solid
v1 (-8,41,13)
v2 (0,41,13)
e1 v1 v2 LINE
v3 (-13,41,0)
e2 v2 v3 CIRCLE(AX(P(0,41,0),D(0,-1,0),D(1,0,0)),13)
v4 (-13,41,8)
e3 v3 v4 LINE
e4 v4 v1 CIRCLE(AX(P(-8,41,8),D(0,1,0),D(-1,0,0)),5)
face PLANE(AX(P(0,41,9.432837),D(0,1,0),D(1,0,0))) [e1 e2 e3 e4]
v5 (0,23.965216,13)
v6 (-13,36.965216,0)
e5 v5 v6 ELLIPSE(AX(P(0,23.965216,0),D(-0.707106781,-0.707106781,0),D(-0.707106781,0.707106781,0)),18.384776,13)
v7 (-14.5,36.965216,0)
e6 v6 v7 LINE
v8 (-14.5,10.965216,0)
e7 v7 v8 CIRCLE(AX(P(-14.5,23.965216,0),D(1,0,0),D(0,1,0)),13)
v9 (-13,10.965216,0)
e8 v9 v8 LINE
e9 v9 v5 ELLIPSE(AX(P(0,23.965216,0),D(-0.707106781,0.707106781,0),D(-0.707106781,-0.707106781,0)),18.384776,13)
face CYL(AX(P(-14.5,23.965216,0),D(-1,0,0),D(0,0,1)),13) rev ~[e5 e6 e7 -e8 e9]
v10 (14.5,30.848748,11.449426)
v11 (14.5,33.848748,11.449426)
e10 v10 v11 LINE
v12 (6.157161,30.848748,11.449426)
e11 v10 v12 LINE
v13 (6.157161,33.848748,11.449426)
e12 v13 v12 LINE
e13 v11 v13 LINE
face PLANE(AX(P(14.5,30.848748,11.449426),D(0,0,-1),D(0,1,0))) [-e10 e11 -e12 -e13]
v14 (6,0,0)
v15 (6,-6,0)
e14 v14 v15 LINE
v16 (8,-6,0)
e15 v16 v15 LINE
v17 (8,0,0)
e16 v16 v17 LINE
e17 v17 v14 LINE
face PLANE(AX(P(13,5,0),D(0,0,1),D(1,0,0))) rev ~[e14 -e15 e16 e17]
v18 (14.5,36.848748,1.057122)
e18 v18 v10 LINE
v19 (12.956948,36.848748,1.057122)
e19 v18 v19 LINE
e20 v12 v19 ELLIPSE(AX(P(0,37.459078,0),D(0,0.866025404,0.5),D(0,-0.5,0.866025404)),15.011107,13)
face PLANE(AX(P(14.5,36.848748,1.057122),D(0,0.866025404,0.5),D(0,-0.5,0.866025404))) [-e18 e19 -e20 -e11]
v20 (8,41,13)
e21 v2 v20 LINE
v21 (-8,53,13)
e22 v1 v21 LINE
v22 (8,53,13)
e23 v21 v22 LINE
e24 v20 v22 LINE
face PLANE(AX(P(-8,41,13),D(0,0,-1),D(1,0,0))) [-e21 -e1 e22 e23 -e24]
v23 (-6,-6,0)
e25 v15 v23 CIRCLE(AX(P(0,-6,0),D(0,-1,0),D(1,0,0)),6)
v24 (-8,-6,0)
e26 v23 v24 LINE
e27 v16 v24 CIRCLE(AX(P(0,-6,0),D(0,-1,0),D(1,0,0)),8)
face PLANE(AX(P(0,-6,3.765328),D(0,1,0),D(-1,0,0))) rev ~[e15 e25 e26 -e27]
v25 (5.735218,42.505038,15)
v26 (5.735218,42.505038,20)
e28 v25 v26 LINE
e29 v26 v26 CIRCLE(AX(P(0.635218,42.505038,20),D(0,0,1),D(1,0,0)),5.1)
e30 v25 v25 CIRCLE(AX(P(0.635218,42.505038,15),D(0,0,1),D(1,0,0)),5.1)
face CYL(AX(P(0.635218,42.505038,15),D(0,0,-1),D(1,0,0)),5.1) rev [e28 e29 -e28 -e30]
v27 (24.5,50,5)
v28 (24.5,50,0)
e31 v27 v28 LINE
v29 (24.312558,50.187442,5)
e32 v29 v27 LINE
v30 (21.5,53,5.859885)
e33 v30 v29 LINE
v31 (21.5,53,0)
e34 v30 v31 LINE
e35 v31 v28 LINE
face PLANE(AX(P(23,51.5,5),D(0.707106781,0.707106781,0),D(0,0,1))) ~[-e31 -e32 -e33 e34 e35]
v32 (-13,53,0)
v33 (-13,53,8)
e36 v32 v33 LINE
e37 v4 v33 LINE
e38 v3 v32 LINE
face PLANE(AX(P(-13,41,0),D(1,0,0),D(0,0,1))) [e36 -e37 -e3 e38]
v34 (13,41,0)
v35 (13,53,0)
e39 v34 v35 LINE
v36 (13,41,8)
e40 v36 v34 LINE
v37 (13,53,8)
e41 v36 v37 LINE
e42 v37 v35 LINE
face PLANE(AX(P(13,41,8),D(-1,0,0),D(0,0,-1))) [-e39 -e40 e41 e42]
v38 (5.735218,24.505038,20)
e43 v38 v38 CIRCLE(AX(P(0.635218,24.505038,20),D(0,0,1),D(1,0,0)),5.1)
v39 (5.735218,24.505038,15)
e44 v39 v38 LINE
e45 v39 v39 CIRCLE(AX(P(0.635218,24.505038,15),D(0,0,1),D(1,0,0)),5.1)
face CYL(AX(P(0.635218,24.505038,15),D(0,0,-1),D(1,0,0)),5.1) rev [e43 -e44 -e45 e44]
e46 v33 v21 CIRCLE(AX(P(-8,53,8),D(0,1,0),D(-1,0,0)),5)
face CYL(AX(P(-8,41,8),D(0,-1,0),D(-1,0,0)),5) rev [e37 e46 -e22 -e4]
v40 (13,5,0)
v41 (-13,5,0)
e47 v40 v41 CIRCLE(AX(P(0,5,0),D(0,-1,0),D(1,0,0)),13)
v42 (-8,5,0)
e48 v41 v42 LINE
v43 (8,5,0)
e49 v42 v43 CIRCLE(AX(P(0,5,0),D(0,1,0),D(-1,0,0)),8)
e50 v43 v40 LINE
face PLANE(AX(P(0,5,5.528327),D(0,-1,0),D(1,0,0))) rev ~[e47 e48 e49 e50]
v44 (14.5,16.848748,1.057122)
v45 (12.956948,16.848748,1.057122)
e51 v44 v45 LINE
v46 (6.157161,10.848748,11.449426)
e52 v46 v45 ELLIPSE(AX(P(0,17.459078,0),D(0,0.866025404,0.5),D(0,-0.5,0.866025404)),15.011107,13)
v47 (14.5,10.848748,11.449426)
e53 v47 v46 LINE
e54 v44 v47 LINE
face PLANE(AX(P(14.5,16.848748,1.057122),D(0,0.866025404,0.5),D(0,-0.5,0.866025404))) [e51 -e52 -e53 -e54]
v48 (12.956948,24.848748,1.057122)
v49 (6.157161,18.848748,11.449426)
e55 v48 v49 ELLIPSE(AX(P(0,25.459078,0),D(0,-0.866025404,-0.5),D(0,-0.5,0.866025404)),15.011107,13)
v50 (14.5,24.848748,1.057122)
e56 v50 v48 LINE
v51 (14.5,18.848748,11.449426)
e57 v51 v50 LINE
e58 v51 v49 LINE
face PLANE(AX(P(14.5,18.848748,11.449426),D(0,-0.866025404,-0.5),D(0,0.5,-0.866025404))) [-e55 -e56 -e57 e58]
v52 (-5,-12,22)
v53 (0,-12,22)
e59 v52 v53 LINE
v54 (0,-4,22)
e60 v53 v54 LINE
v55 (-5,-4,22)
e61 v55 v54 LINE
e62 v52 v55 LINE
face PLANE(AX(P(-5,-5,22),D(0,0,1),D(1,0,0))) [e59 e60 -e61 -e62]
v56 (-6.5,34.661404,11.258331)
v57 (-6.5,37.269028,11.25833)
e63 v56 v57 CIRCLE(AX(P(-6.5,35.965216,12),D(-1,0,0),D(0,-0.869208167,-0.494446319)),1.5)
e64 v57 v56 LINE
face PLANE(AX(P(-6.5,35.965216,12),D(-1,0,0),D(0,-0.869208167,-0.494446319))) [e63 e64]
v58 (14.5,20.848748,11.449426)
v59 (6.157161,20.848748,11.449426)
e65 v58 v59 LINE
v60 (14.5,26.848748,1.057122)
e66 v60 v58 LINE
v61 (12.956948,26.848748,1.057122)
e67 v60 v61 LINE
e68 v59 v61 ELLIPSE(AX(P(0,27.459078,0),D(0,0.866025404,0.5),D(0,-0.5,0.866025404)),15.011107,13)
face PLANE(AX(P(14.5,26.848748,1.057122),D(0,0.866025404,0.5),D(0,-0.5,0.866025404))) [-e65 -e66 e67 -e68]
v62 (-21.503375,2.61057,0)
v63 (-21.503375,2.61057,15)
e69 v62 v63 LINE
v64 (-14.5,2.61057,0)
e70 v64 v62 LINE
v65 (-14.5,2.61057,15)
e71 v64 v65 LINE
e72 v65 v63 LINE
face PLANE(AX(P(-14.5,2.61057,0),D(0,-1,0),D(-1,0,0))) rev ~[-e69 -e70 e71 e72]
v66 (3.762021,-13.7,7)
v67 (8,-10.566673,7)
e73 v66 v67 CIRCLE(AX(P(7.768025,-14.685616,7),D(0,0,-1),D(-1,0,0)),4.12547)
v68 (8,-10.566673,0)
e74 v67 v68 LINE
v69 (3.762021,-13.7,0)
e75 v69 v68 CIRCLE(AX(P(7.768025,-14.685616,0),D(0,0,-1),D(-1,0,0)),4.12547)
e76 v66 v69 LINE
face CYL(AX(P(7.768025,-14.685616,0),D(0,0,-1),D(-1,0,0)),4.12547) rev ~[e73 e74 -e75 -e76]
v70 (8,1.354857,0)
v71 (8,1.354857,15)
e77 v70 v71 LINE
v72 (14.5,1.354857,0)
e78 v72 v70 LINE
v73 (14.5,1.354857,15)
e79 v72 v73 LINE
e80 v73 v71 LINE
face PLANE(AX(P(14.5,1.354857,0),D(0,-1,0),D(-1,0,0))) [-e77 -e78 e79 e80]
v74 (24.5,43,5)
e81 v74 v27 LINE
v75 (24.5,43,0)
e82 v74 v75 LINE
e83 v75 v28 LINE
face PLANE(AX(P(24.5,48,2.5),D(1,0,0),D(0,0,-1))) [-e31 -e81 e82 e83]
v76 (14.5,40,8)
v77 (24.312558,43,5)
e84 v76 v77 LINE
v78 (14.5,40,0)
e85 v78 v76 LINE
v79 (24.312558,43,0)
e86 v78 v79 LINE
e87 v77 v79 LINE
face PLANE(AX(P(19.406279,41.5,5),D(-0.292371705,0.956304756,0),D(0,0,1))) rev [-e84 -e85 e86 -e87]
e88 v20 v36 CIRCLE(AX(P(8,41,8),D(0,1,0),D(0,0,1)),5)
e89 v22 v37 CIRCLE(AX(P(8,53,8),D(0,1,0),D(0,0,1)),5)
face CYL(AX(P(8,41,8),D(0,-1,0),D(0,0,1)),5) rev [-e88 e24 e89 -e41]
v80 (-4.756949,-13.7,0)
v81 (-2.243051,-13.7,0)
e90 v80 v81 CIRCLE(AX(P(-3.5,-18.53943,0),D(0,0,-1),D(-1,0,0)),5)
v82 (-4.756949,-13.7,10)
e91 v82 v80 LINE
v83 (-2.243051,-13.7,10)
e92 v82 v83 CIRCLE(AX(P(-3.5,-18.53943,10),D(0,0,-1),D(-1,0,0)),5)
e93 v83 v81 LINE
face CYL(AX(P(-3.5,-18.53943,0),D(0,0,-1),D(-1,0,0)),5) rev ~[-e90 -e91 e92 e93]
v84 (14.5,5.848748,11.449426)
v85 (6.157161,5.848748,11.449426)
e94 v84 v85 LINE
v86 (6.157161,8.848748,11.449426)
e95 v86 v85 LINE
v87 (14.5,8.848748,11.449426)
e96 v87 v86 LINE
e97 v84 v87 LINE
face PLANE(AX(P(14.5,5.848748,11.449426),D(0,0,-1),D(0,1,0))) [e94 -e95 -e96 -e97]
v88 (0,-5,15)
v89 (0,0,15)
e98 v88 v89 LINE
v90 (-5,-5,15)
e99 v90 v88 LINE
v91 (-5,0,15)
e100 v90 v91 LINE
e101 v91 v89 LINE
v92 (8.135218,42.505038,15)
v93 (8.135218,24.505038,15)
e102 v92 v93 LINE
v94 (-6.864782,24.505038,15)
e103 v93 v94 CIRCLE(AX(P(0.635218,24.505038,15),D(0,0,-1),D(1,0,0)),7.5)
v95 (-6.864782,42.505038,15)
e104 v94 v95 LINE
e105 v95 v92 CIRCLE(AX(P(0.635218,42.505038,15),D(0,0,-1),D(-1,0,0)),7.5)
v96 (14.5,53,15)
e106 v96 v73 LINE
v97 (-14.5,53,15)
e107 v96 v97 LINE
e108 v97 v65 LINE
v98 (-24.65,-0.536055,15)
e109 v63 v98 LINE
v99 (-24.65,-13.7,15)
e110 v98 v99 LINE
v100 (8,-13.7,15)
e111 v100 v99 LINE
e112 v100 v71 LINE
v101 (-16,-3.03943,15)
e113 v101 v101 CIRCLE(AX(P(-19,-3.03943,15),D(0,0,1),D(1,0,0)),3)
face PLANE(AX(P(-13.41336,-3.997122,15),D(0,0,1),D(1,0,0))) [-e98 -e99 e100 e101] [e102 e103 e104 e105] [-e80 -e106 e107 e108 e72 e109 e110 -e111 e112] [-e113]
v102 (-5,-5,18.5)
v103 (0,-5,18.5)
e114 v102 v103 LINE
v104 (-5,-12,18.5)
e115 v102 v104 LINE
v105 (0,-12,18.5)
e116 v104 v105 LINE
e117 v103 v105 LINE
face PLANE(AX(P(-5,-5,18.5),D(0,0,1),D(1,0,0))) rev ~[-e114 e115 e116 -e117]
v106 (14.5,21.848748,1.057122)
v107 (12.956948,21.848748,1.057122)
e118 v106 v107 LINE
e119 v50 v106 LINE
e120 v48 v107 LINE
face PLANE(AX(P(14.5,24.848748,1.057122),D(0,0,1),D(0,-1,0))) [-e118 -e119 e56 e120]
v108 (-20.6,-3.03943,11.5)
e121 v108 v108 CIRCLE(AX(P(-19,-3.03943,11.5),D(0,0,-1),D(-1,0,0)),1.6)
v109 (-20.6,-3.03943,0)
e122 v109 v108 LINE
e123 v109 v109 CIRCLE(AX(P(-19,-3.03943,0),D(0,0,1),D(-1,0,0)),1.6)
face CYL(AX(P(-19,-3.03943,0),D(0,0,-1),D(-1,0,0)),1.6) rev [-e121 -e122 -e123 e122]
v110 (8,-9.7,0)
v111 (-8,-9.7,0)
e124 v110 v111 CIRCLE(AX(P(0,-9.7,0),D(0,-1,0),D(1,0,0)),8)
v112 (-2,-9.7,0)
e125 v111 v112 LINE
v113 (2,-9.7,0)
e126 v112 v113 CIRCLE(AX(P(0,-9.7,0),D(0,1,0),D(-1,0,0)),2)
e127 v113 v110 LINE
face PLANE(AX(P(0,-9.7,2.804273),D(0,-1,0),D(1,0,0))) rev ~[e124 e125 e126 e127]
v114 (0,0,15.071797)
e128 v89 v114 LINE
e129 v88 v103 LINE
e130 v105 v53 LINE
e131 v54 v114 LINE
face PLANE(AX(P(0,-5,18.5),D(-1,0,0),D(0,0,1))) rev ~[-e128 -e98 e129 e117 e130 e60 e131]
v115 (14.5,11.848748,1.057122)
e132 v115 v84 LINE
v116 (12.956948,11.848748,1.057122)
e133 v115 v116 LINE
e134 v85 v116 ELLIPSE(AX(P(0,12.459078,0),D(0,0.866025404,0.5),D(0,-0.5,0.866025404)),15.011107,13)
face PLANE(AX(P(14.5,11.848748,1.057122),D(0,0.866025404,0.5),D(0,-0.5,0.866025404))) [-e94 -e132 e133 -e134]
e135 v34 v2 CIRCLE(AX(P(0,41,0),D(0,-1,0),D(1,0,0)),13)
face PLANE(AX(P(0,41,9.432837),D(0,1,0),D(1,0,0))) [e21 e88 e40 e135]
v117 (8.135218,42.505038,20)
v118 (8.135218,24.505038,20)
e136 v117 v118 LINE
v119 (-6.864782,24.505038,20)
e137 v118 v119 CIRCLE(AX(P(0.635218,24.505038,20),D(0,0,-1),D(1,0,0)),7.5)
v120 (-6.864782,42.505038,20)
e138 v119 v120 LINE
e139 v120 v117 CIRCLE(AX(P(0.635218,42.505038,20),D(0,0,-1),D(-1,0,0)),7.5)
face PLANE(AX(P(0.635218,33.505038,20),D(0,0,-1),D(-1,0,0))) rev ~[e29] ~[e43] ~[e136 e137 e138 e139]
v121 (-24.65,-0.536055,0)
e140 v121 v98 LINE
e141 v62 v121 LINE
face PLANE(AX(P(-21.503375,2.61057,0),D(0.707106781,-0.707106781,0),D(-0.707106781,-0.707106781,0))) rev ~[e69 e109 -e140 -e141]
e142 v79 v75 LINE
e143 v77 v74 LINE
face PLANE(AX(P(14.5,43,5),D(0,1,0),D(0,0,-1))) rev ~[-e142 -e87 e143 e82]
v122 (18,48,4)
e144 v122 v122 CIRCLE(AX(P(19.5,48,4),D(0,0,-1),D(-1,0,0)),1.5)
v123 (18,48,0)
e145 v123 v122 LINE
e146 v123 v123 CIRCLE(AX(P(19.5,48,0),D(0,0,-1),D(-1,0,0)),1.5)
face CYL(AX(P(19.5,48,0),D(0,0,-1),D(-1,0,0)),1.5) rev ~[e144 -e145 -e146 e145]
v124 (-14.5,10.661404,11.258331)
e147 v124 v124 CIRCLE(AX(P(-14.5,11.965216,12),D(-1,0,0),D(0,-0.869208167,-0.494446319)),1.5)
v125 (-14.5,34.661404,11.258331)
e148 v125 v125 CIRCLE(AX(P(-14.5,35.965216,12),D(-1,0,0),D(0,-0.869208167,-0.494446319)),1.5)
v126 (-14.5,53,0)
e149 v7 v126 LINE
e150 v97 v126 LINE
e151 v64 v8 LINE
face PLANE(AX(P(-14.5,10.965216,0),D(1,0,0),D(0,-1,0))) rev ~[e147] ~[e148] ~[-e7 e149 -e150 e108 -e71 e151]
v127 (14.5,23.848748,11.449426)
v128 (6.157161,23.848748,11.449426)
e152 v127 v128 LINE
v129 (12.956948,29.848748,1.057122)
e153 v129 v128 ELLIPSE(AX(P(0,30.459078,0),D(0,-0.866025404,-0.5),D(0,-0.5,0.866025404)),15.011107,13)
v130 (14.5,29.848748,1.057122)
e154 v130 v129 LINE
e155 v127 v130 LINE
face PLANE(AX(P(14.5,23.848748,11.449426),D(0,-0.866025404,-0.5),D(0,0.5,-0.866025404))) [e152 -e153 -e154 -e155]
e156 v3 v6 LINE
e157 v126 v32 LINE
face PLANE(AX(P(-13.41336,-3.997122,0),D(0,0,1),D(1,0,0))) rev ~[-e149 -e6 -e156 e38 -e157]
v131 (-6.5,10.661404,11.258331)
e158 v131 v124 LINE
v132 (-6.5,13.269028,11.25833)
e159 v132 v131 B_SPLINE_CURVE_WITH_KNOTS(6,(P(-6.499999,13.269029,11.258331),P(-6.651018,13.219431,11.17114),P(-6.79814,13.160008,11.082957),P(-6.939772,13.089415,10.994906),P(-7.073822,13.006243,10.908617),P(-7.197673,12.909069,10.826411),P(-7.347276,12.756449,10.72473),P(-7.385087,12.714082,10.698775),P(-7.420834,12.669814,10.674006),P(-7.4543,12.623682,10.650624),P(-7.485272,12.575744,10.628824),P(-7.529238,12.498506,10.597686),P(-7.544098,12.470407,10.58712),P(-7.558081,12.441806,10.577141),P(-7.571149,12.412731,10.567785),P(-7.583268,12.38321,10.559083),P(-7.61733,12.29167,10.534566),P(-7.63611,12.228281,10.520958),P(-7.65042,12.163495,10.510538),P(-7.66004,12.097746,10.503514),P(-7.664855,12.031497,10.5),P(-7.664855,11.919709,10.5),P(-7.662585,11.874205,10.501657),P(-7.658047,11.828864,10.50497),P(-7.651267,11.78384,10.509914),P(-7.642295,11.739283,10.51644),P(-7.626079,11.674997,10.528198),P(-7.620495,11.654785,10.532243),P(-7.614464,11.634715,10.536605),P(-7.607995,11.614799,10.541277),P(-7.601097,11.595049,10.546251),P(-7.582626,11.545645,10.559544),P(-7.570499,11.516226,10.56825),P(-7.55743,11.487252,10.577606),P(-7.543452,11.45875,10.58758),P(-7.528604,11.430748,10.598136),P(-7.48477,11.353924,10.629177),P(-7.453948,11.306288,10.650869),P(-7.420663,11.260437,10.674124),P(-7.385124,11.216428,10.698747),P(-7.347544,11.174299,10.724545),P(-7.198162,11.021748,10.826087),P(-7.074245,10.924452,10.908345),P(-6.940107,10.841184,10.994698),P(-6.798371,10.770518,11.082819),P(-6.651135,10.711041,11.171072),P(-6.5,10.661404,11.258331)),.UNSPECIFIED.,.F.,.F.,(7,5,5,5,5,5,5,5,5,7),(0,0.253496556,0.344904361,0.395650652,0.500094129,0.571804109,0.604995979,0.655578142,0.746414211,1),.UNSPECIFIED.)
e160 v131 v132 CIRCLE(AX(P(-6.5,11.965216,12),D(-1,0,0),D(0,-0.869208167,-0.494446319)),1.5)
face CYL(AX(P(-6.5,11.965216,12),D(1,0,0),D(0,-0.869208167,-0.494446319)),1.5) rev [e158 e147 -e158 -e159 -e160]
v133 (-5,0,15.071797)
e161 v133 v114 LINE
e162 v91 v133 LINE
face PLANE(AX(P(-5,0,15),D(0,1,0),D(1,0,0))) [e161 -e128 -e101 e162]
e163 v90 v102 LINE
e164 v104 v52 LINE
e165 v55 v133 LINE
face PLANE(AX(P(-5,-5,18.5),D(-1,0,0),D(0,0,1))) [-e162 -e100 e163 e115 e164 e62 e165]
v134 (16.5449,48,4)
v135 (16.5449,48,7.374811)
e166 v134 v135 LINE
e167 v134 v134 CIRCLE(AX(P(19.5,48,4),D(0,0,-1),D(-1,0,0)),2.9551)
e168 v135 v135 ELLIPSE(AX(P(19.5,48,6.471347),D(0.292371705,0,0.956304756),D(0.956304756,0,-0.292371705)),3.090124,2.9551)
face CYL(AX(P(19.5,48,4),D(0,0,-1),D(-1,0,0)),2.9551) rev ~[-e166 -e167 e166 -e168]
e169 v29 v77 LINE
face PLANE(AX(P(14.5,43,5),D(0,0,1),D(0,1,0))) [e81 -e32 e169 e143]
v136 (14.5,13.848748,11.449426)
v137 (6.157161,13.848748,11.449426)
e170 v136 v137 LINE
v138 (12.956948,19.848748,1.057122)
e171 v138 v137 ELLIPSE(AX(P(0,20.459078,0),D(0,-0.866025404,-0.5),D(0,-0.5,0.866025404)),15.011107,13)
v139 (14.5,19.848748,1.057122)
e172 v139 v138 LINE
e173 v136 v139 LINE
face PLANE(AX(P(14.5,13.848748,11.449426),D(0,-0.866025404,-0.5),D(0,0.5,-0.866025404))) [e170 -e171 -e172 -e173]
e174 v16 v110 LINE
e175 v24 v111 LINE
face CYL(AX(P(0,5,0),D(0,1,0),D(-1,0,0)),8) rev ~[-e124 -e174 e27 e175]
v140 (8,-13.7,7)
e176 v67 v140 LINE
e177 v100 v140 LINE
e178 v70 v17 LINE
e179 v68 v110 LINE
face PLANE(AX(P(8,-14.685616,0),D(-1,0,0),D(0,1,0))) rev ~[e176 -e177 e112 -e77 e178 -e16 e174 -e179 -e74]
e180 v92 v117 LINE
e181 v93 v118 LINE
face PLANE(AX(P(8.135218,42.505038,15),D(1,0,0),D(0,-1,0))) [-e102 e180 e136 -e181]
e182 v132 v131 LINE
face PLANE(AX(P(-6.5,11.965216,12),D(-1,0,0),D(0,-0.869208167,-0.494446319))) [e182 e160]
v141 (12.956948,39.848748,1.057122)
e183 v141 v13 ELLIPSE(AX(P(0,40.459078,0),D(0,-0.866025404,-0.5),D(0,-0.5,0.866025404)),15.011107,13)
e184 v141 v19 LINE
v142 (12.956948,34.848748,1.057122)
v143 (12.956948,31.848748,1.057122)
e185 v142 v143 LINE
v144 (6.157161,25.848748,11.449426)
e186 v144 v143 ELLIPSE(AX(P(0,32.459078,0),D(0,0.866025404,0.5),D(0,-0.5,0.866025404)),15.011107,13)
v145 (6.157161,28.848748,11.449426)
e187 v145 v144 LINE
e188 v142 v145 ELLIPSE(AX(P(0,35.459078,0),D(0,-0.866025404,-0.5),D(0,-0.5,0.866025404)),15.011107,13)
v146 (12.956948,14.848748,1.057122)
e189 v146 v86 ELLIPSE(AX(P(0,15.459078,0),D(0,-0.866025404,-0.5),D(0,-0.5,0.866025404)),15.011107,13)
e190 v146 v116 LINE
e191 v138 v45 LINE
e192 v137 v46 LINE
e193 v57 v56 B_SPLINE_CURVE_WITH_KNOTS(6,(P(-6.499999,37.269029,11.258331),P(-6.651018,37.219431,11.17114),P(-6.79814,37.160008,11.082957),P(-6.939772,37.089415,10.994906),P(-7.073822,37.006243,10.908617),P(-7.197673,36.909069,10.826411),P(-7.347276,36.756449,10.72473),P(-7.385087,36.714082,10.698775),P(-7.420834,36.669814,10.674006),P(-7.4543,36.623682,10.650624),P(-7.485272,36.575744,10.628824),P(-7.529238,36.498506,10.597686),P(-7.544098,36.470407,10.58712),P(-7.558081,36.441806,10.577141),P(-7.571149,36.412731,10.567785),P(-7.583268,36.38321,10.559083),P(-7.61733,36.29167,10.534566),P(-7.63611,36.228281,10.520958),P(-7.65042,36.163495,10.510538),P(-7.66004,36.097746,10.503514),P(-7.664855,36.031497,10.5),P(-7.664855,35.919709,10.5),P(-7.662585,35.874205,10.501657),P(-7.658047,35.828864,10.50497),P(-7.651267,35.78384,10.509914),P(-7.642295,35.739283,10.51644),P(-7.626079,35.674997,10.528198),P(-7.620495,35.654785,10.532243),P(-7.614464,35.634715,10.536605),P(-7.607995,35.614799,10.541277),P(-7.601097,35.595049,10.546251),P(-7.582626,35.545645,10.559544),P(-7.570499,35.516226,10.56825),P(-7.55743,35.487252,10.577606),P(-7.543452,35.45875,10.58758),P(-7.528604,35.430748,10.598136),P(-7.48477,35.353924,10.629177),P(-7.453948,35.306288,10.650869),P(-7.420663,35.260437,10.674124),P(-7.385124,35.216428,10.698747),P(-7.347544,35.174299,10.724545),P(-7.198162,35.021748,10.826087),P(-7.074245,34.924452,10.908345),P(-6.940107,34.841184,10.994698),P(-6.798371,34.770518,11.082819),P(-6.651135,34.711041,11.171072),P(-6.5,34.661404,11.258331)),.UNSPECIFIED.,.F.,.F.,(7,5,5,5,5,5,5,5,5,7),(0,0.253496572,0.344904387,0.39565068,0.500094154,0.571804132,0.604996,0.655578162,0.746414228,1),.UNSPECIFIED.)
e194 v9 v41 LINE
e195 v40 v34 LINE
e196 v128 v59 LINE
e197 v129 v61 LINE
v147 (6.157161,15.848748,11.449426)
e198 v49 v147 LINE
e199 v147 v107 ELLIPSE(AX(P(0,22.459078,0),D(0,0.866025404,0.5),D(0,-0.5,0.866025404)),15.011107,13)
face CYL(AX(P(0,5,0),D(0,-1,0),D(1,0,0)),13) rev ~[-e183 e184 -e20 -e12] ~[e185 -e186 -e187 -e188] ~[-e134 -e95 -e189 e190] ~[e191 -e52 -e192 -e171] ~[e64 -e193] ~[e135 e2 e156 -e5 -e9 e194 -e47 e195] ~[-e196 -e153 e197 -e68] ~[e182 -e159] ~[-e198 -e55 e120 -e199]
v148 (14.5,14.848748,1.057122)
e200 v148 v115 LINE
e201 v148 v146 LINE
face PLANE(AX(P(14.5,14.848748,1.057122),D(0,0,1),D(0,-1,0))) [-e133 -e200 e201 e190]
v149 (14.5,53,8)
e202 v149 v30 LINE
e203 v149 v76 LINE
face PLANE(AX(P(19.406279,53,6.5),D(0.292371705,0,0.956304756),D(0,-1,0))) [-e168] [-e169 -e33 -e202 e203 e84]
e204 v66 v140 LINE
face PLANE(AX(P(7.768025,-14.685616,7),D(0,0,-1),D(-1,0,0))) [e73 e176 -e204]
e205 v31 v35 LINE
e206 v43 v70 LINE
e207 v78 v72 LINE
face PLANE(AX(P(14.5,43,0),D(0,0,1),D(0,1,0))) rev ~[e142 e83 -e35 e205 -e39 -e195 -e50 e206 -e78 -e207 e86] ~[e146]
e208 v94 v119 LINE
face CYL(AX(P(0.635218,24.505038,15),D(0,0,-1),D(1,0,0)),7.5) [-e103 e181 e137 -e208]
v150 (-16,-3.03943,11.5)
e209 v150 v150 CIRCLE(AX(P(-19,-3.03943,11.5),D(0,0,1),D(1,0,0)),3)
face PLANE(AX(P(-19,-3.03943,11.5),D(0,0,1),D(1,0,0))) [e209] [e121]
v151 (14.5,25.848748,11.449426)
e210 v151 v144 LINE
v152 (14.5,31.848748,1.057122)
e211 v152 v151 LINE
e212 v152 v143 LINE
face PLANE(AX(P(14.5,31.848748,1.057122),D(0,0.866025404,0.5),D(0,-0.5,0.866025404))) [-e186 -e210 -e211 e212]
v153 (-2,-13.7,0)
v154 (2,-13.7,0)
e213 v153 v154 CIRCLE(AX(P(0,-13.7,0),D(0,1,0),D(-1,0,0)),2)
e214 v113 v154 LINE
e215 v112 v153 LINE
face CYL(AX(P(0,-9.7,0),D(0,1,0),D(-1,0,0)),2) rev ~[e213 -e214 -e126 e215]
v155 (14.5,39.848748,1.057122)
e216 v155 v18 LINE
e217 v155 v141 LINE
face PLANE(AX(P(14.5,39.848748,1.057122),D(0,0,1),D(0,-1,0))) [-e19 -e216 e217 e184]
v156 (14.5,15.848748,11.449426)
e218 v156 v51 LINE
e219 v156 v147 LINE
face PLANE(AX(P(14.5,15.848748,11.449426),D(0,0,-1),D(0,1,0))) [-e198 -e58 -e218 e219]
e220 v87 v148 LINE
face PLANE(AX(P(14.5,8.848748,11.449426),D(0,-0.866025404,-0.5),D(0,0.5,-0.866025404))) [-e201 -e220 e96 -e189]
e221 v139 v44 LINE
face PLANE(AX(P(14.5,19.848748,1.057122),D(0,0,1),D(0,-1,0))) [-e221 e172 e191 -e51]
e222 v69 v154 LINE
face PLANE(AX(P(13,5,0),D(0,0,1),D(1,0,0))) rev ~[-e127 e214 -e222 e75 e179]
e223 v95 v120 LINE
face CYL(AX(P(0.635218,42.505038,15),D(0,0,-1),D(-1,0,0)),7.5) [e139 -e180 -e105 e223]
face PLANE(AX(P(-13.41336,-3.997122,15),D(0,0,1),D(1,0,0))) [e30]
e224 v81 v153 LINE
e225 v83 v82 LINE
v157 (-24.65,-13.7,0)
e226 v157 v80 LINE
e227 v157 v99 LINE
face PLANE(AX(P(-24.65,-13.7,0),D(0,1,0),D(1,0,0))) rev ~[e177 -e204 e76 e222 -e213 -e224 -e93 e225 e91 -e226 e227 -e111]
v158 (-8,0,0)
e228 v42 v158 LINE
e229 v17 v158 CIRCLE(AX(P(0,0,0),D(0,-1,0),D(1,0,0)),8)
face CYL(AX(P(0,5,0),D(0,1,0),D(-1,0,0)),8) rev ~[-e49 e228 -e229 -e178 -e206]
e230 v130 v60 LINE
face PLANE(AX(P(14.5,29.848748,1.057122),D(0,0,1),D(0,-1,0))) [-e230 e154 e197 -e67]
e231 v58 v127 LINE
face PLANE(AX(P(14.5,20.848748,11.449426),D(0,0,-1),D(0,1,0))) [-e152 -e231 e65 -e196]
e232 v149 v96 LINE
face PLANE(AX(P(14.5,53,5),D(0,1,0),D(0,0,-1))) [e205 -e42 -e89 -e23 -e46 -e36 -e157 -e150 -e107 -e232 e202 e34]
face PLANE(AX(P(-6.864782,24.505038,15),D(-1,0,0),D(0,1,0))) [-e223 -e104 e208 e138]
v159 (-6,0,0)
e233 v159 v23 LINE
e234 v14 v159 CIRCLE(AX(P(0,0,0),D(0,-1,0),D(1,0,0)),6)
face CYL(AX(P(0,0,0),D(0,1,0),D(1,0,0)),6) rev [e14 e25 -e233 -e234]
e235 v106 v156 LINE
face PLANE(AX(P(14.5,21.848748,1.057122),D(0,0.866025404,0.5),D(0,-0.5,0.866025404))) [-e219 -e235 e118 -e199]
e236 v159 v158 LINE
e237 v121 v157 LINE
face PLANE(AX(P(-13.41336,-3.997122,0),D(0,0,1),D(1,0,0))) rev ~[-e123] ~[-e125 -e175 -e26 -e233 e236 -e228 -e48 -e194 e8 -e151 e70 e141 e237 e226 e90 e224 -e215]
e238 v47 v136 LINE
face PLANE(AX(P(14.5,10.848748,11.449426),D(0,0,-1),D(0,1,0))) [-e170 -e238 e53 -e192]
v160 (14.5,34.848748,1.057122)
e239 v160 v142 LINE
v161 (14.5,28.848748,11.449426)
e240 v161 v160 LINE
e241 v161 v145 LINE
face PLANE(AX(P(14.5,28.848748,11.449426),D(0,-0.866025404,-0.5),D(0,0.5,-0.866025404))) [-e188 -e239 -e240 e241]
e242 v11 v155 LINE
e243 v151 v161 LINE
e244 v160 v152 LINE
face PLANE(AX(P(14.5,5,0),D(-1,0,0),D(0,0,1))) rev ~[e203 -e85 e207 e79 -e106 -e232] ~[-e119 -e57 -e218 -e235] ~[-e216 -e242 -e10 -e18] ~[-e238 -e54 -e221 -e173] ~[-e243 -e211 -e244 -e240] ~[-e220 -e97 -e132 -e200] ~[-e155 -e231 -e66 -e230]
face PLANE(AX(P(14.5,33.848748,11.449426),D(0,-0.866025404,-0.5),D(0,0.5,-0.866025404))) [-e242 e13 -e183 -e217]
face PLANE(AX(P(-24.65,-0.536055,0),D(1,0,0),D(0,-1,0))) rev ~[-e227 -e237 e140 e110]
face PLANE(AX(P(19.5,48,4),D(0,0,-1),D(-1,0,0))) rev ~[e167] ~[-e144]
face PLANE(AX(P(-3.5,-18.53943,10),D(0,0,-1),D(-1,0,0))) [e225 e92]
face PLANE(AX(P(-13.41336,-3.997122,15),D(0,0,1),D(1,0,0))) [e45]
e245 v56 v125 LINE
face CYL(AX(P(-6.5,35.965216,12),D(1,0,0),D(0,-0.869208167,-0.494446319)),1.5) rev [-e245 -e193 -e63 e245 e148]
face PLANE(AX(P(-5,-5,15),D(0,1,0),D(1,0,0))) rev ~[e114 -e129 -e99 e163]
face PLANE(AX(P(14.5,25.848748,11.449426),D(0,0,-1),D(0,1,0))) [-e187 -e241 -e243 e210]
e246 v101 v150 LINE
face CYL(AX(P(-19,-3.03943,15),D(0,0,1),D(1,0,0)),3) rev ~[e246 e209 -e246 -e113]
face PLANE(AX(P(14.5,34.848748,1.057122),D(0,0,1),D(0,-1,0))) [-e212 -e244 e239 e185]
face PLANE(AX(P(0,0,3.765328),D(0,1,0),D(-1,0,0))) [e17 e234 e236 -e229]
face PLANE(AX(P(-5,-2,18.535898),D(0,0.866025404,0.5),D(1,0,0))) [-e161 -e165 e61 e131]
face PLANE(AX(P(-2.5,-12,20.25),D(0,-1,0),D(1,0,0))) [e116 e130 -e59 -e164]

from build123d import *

# Parameters (mm, degrees)
P_IDAT_VYSUNUT_M1_DEPTH       = 6
P_IDAT_VYSUNUT_M2_DEPTH       = 4
P_IDAT_START                  = -18.7
P_IDAT_VYSUNUT_M3_DEPTH       = 18.7
P_IDAT_VYSUNUT_M4_DEPTH       = 36
P_IDAT_VYSUNUT_M5_DEPTH       = 12
P_IDAT_VYSUNUT_M6_DEPTH       = 18.7
SKICA10_W                     = 6.5
SKICA10_H                     = 16.04047294
ODEBRAT_VYSUNUT_M2_DEPTH      = 15
SKICA4_R                      = 4.125470306
ODEBRAT_VYSUNUT_M3_DEPTH      = 7
SKICA11_R                     = 1.6
P_IDAT_VYSUNUT_M7_DEPTH       = 15
SKICA12_R                     = 5
ODEBRAT_VYSUNUT_M4_DEPTH      = 10
SKICA13_R                     = 3
ODEBRAT_VYSUNUT_M5_DEPTH      = 3.5
ODEBRAT_VYSUNUT_M6_REACH      = 69.578
ODEBRAT_VYSUNUT_M6_END_RADIUS = 13
ODEBRAT_START                 = -8
SKICA15_R                     = 1.5
ODEBRAT_VYSUNUT_M7_DEPTH      = 8
ODEBRAT_VYSUNUT_M8_REACH      = 64.249
ODEBRAT_VYSUNUT_M8_END_RADIUS = 13
SKICA16_R                     = 13
SKICA17_W                     = 5
SKICA17_H                     = 10
P_IDAT_VYSUNUT_M8_DEPTH       = 10
ZKOSEN_1_SIZE                 = 3
ZKOSEN_1_SIZE2                = 9.812557855
ZKOSEN_2_SIZE                 = 3
ZKOSEN_2_SIZE2                = 9.812557855
SKICA18_R                     = 1.5
ODEBRAT_VYSUNUT_M9_DEPTH      = 4
SKICA19_R                     = 2.955100019
ODEBRAT_VYSUNUT_M10_DEPTH     = 4
ZKOSEN_3_SIZE                 = 3
SKICA20_W                     = 5
SKICA20_H                     = 5
P_IDAT_VYSUNUT_M9_DEPTH       = 7
SKICA21_W                     = 5
SKICA21_H                     = 3.5
P_IDAT_VYSUNUT_M10_DEPTH      = 7
ZKOSEN_4_SIZE                 = 4
ZKOSEN_4_SIZE2                = 6.92820323
SKICA22_R                     = 5.1
P_IDAT_VYSUNUT_M11_DEPTH      = 5


with BuildPart() as part:
    # Skica2 → Přidat vysunutím1 (new body)
    with BuildSketch(Plane.XZ):
        with BuildLine():
            Line((8, 0), (6, 0))
            ThreePointArc((6, 0), (0, 6), (-6, 0))
            Line((-6, 0), (-8, 0))
            ThreePointArc((-8, 0), (0, 8), (8, 0))
        make_face()
    extrude(amount=P_IDAT_VYSUNUT_M1_DEPTH)



with BuildPart() as body_2:
    # Skica3 → Přidat vysunutím2 (new body)
    with BuildSketch(Plane.XZ.offset(9.7)):
        with BuildLine():
            Line((4.5, 0), (8, 0))
            ThreePointArc((8, 0), (0, 8), (-8, 0))
            Line((-8, 0), (-4.5, 0))
            Line((-4.5, 0), (-2, 0))
            ThreePointArc((-2, 0), (0, 2), (2, 0))
            Line((2, 0), (4.5, 0))
        make_face()
    extrude(amount=P_IDAT_VYSUNUT_M2_DEPTH)


with BuildPart() as part_1:
    add(part.part)

    add(body_2.part)  # Přidat vysunutím3 merges body 2
    # Skica6 → Přidat vysunutím3 (add)
    with BuildSketch(Plane.XZ.offset(13.7).offset(P_IDAT_START)):
        with BuildLine():
            Line((-13, 0), (-8, 0))
            ThreePointArc((-8, 0), (0, 8), (8, 0))
            Line((8, 0), (13, 0))
            ThreePointArc((13, 0), (0, 13), (-13, 0))
        make_face()
    extrude(amount=P_IDAT_VYSUNUT_M3_DEPTH)



with BuildPart() as body_2_2:
    # Skica7 → Přidat vysunutím4 (new body)
    with BuildSketch(Plane(origin=(0, 5, 0), x_dir=(1, 0, 0), z_dir=(0, 1, 0))):
        with BuildLine():
            Line((-13, 0), (-14.5, 0))
            Line((-14.5, 0), (-14.5, -15))
            Line((-14.5, -15), (14.5, -15))
            Line((14.5, -15), (14.5, 0))
            Line((14.5, 0), (13, 0))
            ThreePointArc((13, 0), (0, -13), (-13, 0))
        make_face()
    extrude(amount=P_IDAT_VYSUNUT_M4_DEPTH)

    # Skica8 → Přidat vysunutím5 (add)
    with BuildSketch(Plane(origin=(0, 41, 0), x_dir=(1, 0, 0), z_dir=(0, 1, 0))):
        with BuildLine():
            Line((-14.5, 0), (-13, 0))
            Line((-13, 0), (-13, -8))
            ThreePointArc((-13, -8), (-11.535533906, -11.535533906), (-8, -13))
            Line((-8, -13), (8, -13))
            ThreePointArc((8, -13), (11.535533906, -11.535533906), (13, -8))
            Line((13, -8), (13, 0))
            Line((13, 0), (14.5, 0))
            Line((14.5, 0), (14.5, -15))
            Line((14.5, -15), (-14.5, -15))
            Line((-14.5, -15), (-14.5, 0))
        make_face()
    extrude(amount=P_IDAT_VYSUNUT_M5_DEPTH)


with BuildPart() as part_2:
    add(part_1.part)

    add(body_2_2.part)  # Přidat vysunutím6 merges body 2 2
    # Skica9 → Přidat vysunutím6 (add)
    with BuildSketch(Plane.XZ.offset(-5)):
        with BuildLine():
            Line((13, 0), (14.5, 0))
            Line((14.5, 0), (14.5, 15))
            Line((14.5, 15), (-14.5, 15))
            Line((-14.5, 15), (-14.5, 0))
            Line((-14.5, 0), (-13, 0))
            ThreePointArc((-13, 0), (0, 13), (13, 0))
        make_face()
    extrude(amount=P_IDAT_VYSUNUT_M6_DEPTH)

    # Skica10 → Odebrat vysunutím2 (cut)
    with BuildSketch(Plane(origin=(0, 0, 0), x_dir=(-1, 0, 0), z_dir=(0, 0, -1))):
        with Locations((-11.25, -6.665379435)):
            Rectangle(SKICA10_W, SKICA10_H)
    extrude(amount=-ODEBRAT_VYSUNUT_M2_DEPTH, mode=Mode.SUBTRACT)

    # Skica4 → Odebrat vysunutím3 (cut)
    with BuildSketch(Plane(origin=(0, 0, 0), x_dir=(-1, 0, 0), z_dir=(0, 0, -1))):
        with Locations((-7.768024839, -14.685615905)):
            Circle(SKICA4_R)
    extrude(amount=-ODEBRAT_VYSUNUT_M3_DEPTH, mode=Mode.SUBTRACT)

    # Skica11 → Přidat vysunutím7 (add)
    with BuildSketch(Plane.XY):
        with BuildLine():
            Line((-24.65, -13.7), (-14.5, -13.7))
            Line((-14.5, -13.7), (-4.756948598, -13.7))
            ThreePointArc((-4.756948598, -13.7), (-3.5, -13.539429741), (-2.243051402, -13.7))
            Line((-2.243051402, -13.7), (-2, -13.7))
            Line((-2, -13.7), (-2, -9.7))
            Line((-2, -9.7), (-8, -9.7))
            Line((-8, -9.7), (-8, -6))
            Line((-8, -6), (-6, -6))
            Line((-6, -6), (-6, 0))
            Line((-6, 0), (-8, 0))
            Line((-8, 0), (-8, 5))
            Line((-8, 5), (-13, 5))
            Line((-13, 5), (-13, 10.965216354))
            Line((-13, 10.965216354), (-14.5, 10.965216354))
            Line((-14.5, 10.965216354), (-14.5, 2.610570259))
            Line((-14.5, 2.610570259), (-21.503374824, 2.610570259))
            Line((-21.503374824, 2.610570259), (-24.65, -0.536054918))
            Line((-24.65, -0.536054918), (-24.65, -13.7))
        make_face()
        with Locations(Location((-19, -3.039429741, 0), (0, 0, 180))):
            Circle(SKICA11_R, mode=Mode.SUBTRACT)
    extrude(amount=P_IDAT_VYSUNUT_M7_DEPTH)

    # Skica12 → Odebrat vysunutím4 (cut)
    with BuildSketch(Plane(origin=(0, 0, 0), x_dir=(-1, 0, 0), z_dir=(0, 0, -1))):
        with Locations((3.5, -18.539429741)):
            Circle(SKICA12_R)
    extrude(amount=-ODEBRAT_VYSUNUT_M4_DEPTH, mode=Mode.SUBTRACT)

    # Skica13 → Odebrat vysunutím5 (cut)
    with BuildSketch(Plane.XY.offset(15)):
        with Locations((-19, -3.039429741)):
            Circle(SKICA13_R)
    extrude(amount=-ODEBRAT_VYSUNUT_M5_DEPTH, mode=Mode.SUBTRACT)

    # Odebrat vysunutím6: up to this cylinder (the profile starts outside it)
    odebrat_vysunut_m6_end = Plane(origin=(0, 22.848748, 0), z_dir=(0, -1, 0)) * Cylinder(ODEBRAT_VYSUNUT_M6_END_RADIUS, 191.156, mode=Mode.PRIVATE)
    # Skica14 → Odebrat vysunutím6 (cut, up to the surface)
    with BuildSketch(Plane(origin=(14.5, 0, 0), x_dir=(0, 0, -1), z_dir=(1, 0, 0)), mode=Mode.PRIVATE) as odebrat_vysunut_m6_sk1:
        Polygon((-11.449426353, 13.848748302), (-1.057121507, 19.848748302), (-1.057121507, 16.848748302), (-11.449426353, 10.848748302), align=None)
    odebrat_vysunut_m6_tool1 = extrude(odebrat_vysunut_m6_sk1.sketch, amount=-ODEBRAT_VYSUNUT_M6_REACH, mode=Mode.PRIVATE) - odebrat_vysunut_m6_end
    add(odebrat_vysunut_m6_tool1.solids().sort_by_distance((14.5, 15.348748, 6.253274))[0], mode=Mode.SUBTRACT)
    # Skica14 → Odebrat vysunutím6 (cut, up to the surface)
    with BuildSketch(Plane(origin=(14.5, 0, 0), x_dir=(0, 0, -1), z_dir=(1, 0, 0)), mode=Mode.PRIVATE) as odebrat_vysunut_m6_sk2:
        Polygon((-11.449426353, 8.848748302), (-1.057121507, 14.848748302), (-1.057121507, 11.848748302), (-11.449426353, 5.848748302), align=None)
    odebrat_vysunut_m6_tool2 = extrude(odebrat_vysunut_m6_sk2.sketch, amount=-ODEBRAT_VYSUNUT_M6_REACH, mode=Mode.PRIVATE) - odebrat_vysunut_m6_end
    add(odebrat_vysunut_m6_tool2.solids().sort_by_distance((14.5, 10.348748, 6.253274))[0], mode=Mode.SUBTRACT)
    # Skica14 → Odebrat vysunutím6 (cut, up to the surface)
    with BuildSketch(Plane(origin=(14.5, 0, 0), x_dir=(0, 0, -1), z_dir=(1, 0, 0)), mode=Mode.PRIVATE) as odebrat_vysunut_m6_sk3:
        Polygon((-11.449426353, 18.848748302), (-1.057121507, 24.848748302), (-1.057121507, 21.848748302), (-11.449426353, 15.848748302), align=None)
    odebrat_vysunut_m6_tool3 = extrude(odebrat_vysunut_m6_sk3.sketch, amount=-ODEBRAT_VYSUNUT_M6_REACH, mode=Mode.PRIVATE) - odebrat_vysunut_m6_end
    add(odebrat_vysunut_m6_tool3.solids().sort_by_distance((14.5, 20.348748, 6.253274))[0], mode=Mode.SUBTRACT)
    # Skica14 → Odebrat vysunutím6 (cut, up to the surface)
    with BuildSketch(Plane(origin=(14.5, 0, 0), x_dir=(0, 0, -1), z_dir=(1, 0, 0)), mode=Mode.PRIVATE) as odebrat_vysunut_m6_sk4:
        Polygon((-11.449426353, 23.848748302), (-1.057121507, 29.848748302), (-1.057121507, 26.848748302), (-11.449426353, 20.848748302), align=None)
    odebrat_vysunut_m6_tool4 = extrude(odebrat_vysunut_m6_sk4.sketch, amount=-ODEBRAT_VYSUNUT_M6_REACH, mode=Mode.PRIVATE) - odebrat_vysunut_m6_end
    add(odebrat_vysunut_m6_tool4.solids().sort_by_distance((14.5, 25.348748, 6.253274))[0], mode=Mode.SUBTRACT)
    # Skica14 → Odebrat vysunutím6 (cut, up to the surface)
    with BuildSketch(Plane(origin=(14.5, 0, 0), x_dir=(0, 0, -1), z_dir=(1, 0, 0)), mode=Mode.PRIVATE) as odebrat_vysunut_m6_sk5:
        Polygon((-11.449426353, 28.848748302), (-1.057121507, 34.848748302), (-1.057121507, 31.848748302), (-11.449426353, 25.848748302), align=None)
    odebrat_vysunut_m6_tool5 = extrude(odebrat_vysunut_m6_sk5.sketch, amount=-ODEBRAT_VYSUNUT_M6_REACH, mode=Mode.PRIVATE) - odebrat_vysunut_m6_end
    add(odebrat_vysunut_m6_tool5.solids().sort_by_distance((14.5, 30.348748, 6.253274))[0], mode=Mode.SUBTRACT)
    # Skica14 → Odebrat vysunutím6 (cut, up to the surface)
    with BuildSketch(Plane(origin=(14.5, 0, 0), x_dir=(0, 0, -1), z_dir=(1, 0, 0)), mode=Mode.PRIVATE) as odebrat_vysunut_m6_sk6:
        Polygon((-11.449426353, 33.848748302), (-1.057121507, 39.848748302), (-1.057121507, 36.848748302), (-11.449426353, 30.848748302), align=None)
    odebrat_vysunut_m6_tool6 = extrude(odebrat_vysunut_m6_sk6.sketch, amount=-ODEBRAT_VYSUNUT_M6_REACH, mode=Mode.PRIVATE) - odebrat_vysunut_m6_end
    add(odebrat_vysunut_m6_tool6.solids().sort_by_distance((14.5, 35.348748, 6.253274))[0], mode=Mode.SUBTRACT)

    # Skica15 → Odebrat vysunutím7 (cut)
    with BuildSketch(Plane.ZY.offset(14.5).offset(ODEBRAT_START)):
        with Locations(Location((12, 35.965216354, 0), (0, 0, 240.366753373))):
            Circle(SKICA15_R)
        with Locations(Location((12, 11.965216354, 0), (0, 0, 240.366753373))):
            Circle(SKICA15_R)
    extrude(amount=ODEBRAT_VYSUNUT_M7_DEPTH, mode=Mode.SUBTRACT)

    # Odebrat vysunutím8: up to this cylinder (the profile starts outside it)
    odebrat_vysunut_m8_end = Plane(origin=(0, 23.965216, 0), z_dir=(0, -1, 0)) * Cylinder(ODEBRAT_VYSUNUT_M8_END_RADIUS, 155.498, mode=Mode.PRIVATE)
    # Skica16 → Odebrat vysunutím8 (cut, up to the surface)
    with BuildSketch(Plane.ZY.offset(14.5), mode=Mode.PRIVATE) as odebrat_vysunut_m8_sk1:
        with Locations((0, 23.965216354)):
            Circle(SKICA16_R)
    odebrat_vysunut_m8_tool1 = extrude(odebrat_vysunut_m8_sk1.sketch, amount=-ODEBRAT_VYSUNUT_M8_REACH, mode=Mode.PRIVATE) - odebrat_vysunut_m8_end
    add(odebrat_vysunut_m8_tool1.solids().sort_by_distance((-14.5, 23.965216, 0))[0], mode=Mode.SUBTRACT)

    # Skica17 → Přidat vysunutím8 (add)
    with BuildSketch(Plane(origin=(14.5, 0, 0), x_dir=(0, 0, -1), z_dir=(1, 0, 0))):
        with Locations((-2.5, 48)):
            Rectangle(SKICA17_W, SKICA17_H)
    extrude(amount=P_IDAT_VYSUNUT_M8_DEPTH)

    # Zkosení1
    zkosen_1_edges = [part_2.edges().sort_by_distance(p)[0] for p in [
        (14.5, 43, 2.5),
    ]]
    zkosen_1_side = [part_2.faces().sort_by_distance(p)[0] for p in [
        (14.5, 26.747010965, 8.398810193),
    ]]
    chamfer(zkosen_1_edges, length=ZKOSEN_1_SIZE, length2=ZKOSEN_1_SIZE2, reference=zkosen_1_side[0])

    # Zkosení2
    zkosen_2_edges = [part_2.edges().sort_by_distance(p)[0] for p in [
        (14.5, 46.5, 5),
    ]]
    zkosen_2_side = [part_2.faces().sort_by_distance(p)[0] for p in [
        (14.5, 26.323573909, 8.56811655),
    ]]
    chamfer(zkosen_2_edges, length=ZKOSEN_2_SIZE, length2=ZKOSEN_2_SIZE2, reference=zkosen_2_side[0])

    # Skica18 → Odebrat vysunutím9 (cut)
    with BuildSketch(Plane(origin=(0, 0, 0), x_dir=(-1, 0, 0), z_dir=(0, 0, -1))):
        with Locations((-19.5, 48)):
            Circle(SKICA18_R)
    extrude(amount=-ODEBRAT_VYSUNUT_M9_DEPTH, mode=Mode.SUBTRACT)

    # Skica19 → Odebrat vysunutím10 (cut)
    with BuildSketch(Plane(origin=(0, 0, 4), x_dir=(-1, 0, 0), z_dir=(0, 0, -1))):
        with Locations((-19.5, 48)):
            Circle(SKICA19_R)
    extrude(amount=-ODEBRAT_VYSUNUT_M10_DEPTH, mode=Mode.SUBTRACT)

    # Zkosení3
    zkosen_3_edges = [part_2.edges().sort_by_distance(p)[0] for p in [
        (24.5, 53, 2.5),
    ]]
    chamfer(zkosen_3_edges, length=ZKOSEN_3_SIZE)

    # Skica20 → Přidat vysunutím9 (add)
    with BuildSketch(Plane.XY.offset(15)):
        with Locations((-2.5, -2.5)):
            Rectangle(SKICA20_W, SKICA20_H)
    extrude(amount=P_IDAT_VYSUNUT_M9_DEPTH)

    # Skica21 → Přidat vysunutím10 (add)
    with BuildSketch(Plane.XZ.offset(5)):
        with Locations((-2.5, 20.25)):
            Rectangle(SKICA21_W, SKICA21_H)
    extrude(amount=P_IDAT_VYSUNUT_M10_DEPTH)

    # Zkosení4
    zkosen_4_edges = [part_2.edges().sort_by_distance(p)[0] for p in [
        (-2.5, 0, 22),
    ]]
    zkosen_4_side = [part_2.faces().sort_by_distance(p)[0] for p in [
        (-2.5, -6, 22),
    ]]
    chamfer(zkosen_4_edges, length=ZKOSEN_4_SIZE, length2=ZKOSEN_4_SIZE2, reference=zkosen_4_side[0])

    # Skica22 → Přidat vysunutím11 (add)
    with BuildSketch(Plane.XY.offset(15)):
        with BuildLine():
            Line((-6.864781882, 24.505037691), (-6.864781882, 42.505037691))
            ThreePointArc((-6.864781882, 42.505037691), (0.635218118, 50.005037691), (8.135218118, 42.505037691))
            Line((8.135218118, 42.505037691), (8.135218118, 24.505037691))
            ThreePointArc((8.135218118, 24.505037691), (0.635218118, 17.005037691), (-6.864781882, 24.505037691))
        make_face()
        with Locations((0.635218118, 42.505037691)):
            Circle(SKICA22_R, mode=Mode.SUBTRACT)
        with Locations((0.635218118, 24.505037691)):
            Circle(SKICA22_R, mode=Mode.SUBTRACT)
    extrude(amount=P_IDAT_VYSUNUT_M11_DEPTH)


solid = part_2.part
